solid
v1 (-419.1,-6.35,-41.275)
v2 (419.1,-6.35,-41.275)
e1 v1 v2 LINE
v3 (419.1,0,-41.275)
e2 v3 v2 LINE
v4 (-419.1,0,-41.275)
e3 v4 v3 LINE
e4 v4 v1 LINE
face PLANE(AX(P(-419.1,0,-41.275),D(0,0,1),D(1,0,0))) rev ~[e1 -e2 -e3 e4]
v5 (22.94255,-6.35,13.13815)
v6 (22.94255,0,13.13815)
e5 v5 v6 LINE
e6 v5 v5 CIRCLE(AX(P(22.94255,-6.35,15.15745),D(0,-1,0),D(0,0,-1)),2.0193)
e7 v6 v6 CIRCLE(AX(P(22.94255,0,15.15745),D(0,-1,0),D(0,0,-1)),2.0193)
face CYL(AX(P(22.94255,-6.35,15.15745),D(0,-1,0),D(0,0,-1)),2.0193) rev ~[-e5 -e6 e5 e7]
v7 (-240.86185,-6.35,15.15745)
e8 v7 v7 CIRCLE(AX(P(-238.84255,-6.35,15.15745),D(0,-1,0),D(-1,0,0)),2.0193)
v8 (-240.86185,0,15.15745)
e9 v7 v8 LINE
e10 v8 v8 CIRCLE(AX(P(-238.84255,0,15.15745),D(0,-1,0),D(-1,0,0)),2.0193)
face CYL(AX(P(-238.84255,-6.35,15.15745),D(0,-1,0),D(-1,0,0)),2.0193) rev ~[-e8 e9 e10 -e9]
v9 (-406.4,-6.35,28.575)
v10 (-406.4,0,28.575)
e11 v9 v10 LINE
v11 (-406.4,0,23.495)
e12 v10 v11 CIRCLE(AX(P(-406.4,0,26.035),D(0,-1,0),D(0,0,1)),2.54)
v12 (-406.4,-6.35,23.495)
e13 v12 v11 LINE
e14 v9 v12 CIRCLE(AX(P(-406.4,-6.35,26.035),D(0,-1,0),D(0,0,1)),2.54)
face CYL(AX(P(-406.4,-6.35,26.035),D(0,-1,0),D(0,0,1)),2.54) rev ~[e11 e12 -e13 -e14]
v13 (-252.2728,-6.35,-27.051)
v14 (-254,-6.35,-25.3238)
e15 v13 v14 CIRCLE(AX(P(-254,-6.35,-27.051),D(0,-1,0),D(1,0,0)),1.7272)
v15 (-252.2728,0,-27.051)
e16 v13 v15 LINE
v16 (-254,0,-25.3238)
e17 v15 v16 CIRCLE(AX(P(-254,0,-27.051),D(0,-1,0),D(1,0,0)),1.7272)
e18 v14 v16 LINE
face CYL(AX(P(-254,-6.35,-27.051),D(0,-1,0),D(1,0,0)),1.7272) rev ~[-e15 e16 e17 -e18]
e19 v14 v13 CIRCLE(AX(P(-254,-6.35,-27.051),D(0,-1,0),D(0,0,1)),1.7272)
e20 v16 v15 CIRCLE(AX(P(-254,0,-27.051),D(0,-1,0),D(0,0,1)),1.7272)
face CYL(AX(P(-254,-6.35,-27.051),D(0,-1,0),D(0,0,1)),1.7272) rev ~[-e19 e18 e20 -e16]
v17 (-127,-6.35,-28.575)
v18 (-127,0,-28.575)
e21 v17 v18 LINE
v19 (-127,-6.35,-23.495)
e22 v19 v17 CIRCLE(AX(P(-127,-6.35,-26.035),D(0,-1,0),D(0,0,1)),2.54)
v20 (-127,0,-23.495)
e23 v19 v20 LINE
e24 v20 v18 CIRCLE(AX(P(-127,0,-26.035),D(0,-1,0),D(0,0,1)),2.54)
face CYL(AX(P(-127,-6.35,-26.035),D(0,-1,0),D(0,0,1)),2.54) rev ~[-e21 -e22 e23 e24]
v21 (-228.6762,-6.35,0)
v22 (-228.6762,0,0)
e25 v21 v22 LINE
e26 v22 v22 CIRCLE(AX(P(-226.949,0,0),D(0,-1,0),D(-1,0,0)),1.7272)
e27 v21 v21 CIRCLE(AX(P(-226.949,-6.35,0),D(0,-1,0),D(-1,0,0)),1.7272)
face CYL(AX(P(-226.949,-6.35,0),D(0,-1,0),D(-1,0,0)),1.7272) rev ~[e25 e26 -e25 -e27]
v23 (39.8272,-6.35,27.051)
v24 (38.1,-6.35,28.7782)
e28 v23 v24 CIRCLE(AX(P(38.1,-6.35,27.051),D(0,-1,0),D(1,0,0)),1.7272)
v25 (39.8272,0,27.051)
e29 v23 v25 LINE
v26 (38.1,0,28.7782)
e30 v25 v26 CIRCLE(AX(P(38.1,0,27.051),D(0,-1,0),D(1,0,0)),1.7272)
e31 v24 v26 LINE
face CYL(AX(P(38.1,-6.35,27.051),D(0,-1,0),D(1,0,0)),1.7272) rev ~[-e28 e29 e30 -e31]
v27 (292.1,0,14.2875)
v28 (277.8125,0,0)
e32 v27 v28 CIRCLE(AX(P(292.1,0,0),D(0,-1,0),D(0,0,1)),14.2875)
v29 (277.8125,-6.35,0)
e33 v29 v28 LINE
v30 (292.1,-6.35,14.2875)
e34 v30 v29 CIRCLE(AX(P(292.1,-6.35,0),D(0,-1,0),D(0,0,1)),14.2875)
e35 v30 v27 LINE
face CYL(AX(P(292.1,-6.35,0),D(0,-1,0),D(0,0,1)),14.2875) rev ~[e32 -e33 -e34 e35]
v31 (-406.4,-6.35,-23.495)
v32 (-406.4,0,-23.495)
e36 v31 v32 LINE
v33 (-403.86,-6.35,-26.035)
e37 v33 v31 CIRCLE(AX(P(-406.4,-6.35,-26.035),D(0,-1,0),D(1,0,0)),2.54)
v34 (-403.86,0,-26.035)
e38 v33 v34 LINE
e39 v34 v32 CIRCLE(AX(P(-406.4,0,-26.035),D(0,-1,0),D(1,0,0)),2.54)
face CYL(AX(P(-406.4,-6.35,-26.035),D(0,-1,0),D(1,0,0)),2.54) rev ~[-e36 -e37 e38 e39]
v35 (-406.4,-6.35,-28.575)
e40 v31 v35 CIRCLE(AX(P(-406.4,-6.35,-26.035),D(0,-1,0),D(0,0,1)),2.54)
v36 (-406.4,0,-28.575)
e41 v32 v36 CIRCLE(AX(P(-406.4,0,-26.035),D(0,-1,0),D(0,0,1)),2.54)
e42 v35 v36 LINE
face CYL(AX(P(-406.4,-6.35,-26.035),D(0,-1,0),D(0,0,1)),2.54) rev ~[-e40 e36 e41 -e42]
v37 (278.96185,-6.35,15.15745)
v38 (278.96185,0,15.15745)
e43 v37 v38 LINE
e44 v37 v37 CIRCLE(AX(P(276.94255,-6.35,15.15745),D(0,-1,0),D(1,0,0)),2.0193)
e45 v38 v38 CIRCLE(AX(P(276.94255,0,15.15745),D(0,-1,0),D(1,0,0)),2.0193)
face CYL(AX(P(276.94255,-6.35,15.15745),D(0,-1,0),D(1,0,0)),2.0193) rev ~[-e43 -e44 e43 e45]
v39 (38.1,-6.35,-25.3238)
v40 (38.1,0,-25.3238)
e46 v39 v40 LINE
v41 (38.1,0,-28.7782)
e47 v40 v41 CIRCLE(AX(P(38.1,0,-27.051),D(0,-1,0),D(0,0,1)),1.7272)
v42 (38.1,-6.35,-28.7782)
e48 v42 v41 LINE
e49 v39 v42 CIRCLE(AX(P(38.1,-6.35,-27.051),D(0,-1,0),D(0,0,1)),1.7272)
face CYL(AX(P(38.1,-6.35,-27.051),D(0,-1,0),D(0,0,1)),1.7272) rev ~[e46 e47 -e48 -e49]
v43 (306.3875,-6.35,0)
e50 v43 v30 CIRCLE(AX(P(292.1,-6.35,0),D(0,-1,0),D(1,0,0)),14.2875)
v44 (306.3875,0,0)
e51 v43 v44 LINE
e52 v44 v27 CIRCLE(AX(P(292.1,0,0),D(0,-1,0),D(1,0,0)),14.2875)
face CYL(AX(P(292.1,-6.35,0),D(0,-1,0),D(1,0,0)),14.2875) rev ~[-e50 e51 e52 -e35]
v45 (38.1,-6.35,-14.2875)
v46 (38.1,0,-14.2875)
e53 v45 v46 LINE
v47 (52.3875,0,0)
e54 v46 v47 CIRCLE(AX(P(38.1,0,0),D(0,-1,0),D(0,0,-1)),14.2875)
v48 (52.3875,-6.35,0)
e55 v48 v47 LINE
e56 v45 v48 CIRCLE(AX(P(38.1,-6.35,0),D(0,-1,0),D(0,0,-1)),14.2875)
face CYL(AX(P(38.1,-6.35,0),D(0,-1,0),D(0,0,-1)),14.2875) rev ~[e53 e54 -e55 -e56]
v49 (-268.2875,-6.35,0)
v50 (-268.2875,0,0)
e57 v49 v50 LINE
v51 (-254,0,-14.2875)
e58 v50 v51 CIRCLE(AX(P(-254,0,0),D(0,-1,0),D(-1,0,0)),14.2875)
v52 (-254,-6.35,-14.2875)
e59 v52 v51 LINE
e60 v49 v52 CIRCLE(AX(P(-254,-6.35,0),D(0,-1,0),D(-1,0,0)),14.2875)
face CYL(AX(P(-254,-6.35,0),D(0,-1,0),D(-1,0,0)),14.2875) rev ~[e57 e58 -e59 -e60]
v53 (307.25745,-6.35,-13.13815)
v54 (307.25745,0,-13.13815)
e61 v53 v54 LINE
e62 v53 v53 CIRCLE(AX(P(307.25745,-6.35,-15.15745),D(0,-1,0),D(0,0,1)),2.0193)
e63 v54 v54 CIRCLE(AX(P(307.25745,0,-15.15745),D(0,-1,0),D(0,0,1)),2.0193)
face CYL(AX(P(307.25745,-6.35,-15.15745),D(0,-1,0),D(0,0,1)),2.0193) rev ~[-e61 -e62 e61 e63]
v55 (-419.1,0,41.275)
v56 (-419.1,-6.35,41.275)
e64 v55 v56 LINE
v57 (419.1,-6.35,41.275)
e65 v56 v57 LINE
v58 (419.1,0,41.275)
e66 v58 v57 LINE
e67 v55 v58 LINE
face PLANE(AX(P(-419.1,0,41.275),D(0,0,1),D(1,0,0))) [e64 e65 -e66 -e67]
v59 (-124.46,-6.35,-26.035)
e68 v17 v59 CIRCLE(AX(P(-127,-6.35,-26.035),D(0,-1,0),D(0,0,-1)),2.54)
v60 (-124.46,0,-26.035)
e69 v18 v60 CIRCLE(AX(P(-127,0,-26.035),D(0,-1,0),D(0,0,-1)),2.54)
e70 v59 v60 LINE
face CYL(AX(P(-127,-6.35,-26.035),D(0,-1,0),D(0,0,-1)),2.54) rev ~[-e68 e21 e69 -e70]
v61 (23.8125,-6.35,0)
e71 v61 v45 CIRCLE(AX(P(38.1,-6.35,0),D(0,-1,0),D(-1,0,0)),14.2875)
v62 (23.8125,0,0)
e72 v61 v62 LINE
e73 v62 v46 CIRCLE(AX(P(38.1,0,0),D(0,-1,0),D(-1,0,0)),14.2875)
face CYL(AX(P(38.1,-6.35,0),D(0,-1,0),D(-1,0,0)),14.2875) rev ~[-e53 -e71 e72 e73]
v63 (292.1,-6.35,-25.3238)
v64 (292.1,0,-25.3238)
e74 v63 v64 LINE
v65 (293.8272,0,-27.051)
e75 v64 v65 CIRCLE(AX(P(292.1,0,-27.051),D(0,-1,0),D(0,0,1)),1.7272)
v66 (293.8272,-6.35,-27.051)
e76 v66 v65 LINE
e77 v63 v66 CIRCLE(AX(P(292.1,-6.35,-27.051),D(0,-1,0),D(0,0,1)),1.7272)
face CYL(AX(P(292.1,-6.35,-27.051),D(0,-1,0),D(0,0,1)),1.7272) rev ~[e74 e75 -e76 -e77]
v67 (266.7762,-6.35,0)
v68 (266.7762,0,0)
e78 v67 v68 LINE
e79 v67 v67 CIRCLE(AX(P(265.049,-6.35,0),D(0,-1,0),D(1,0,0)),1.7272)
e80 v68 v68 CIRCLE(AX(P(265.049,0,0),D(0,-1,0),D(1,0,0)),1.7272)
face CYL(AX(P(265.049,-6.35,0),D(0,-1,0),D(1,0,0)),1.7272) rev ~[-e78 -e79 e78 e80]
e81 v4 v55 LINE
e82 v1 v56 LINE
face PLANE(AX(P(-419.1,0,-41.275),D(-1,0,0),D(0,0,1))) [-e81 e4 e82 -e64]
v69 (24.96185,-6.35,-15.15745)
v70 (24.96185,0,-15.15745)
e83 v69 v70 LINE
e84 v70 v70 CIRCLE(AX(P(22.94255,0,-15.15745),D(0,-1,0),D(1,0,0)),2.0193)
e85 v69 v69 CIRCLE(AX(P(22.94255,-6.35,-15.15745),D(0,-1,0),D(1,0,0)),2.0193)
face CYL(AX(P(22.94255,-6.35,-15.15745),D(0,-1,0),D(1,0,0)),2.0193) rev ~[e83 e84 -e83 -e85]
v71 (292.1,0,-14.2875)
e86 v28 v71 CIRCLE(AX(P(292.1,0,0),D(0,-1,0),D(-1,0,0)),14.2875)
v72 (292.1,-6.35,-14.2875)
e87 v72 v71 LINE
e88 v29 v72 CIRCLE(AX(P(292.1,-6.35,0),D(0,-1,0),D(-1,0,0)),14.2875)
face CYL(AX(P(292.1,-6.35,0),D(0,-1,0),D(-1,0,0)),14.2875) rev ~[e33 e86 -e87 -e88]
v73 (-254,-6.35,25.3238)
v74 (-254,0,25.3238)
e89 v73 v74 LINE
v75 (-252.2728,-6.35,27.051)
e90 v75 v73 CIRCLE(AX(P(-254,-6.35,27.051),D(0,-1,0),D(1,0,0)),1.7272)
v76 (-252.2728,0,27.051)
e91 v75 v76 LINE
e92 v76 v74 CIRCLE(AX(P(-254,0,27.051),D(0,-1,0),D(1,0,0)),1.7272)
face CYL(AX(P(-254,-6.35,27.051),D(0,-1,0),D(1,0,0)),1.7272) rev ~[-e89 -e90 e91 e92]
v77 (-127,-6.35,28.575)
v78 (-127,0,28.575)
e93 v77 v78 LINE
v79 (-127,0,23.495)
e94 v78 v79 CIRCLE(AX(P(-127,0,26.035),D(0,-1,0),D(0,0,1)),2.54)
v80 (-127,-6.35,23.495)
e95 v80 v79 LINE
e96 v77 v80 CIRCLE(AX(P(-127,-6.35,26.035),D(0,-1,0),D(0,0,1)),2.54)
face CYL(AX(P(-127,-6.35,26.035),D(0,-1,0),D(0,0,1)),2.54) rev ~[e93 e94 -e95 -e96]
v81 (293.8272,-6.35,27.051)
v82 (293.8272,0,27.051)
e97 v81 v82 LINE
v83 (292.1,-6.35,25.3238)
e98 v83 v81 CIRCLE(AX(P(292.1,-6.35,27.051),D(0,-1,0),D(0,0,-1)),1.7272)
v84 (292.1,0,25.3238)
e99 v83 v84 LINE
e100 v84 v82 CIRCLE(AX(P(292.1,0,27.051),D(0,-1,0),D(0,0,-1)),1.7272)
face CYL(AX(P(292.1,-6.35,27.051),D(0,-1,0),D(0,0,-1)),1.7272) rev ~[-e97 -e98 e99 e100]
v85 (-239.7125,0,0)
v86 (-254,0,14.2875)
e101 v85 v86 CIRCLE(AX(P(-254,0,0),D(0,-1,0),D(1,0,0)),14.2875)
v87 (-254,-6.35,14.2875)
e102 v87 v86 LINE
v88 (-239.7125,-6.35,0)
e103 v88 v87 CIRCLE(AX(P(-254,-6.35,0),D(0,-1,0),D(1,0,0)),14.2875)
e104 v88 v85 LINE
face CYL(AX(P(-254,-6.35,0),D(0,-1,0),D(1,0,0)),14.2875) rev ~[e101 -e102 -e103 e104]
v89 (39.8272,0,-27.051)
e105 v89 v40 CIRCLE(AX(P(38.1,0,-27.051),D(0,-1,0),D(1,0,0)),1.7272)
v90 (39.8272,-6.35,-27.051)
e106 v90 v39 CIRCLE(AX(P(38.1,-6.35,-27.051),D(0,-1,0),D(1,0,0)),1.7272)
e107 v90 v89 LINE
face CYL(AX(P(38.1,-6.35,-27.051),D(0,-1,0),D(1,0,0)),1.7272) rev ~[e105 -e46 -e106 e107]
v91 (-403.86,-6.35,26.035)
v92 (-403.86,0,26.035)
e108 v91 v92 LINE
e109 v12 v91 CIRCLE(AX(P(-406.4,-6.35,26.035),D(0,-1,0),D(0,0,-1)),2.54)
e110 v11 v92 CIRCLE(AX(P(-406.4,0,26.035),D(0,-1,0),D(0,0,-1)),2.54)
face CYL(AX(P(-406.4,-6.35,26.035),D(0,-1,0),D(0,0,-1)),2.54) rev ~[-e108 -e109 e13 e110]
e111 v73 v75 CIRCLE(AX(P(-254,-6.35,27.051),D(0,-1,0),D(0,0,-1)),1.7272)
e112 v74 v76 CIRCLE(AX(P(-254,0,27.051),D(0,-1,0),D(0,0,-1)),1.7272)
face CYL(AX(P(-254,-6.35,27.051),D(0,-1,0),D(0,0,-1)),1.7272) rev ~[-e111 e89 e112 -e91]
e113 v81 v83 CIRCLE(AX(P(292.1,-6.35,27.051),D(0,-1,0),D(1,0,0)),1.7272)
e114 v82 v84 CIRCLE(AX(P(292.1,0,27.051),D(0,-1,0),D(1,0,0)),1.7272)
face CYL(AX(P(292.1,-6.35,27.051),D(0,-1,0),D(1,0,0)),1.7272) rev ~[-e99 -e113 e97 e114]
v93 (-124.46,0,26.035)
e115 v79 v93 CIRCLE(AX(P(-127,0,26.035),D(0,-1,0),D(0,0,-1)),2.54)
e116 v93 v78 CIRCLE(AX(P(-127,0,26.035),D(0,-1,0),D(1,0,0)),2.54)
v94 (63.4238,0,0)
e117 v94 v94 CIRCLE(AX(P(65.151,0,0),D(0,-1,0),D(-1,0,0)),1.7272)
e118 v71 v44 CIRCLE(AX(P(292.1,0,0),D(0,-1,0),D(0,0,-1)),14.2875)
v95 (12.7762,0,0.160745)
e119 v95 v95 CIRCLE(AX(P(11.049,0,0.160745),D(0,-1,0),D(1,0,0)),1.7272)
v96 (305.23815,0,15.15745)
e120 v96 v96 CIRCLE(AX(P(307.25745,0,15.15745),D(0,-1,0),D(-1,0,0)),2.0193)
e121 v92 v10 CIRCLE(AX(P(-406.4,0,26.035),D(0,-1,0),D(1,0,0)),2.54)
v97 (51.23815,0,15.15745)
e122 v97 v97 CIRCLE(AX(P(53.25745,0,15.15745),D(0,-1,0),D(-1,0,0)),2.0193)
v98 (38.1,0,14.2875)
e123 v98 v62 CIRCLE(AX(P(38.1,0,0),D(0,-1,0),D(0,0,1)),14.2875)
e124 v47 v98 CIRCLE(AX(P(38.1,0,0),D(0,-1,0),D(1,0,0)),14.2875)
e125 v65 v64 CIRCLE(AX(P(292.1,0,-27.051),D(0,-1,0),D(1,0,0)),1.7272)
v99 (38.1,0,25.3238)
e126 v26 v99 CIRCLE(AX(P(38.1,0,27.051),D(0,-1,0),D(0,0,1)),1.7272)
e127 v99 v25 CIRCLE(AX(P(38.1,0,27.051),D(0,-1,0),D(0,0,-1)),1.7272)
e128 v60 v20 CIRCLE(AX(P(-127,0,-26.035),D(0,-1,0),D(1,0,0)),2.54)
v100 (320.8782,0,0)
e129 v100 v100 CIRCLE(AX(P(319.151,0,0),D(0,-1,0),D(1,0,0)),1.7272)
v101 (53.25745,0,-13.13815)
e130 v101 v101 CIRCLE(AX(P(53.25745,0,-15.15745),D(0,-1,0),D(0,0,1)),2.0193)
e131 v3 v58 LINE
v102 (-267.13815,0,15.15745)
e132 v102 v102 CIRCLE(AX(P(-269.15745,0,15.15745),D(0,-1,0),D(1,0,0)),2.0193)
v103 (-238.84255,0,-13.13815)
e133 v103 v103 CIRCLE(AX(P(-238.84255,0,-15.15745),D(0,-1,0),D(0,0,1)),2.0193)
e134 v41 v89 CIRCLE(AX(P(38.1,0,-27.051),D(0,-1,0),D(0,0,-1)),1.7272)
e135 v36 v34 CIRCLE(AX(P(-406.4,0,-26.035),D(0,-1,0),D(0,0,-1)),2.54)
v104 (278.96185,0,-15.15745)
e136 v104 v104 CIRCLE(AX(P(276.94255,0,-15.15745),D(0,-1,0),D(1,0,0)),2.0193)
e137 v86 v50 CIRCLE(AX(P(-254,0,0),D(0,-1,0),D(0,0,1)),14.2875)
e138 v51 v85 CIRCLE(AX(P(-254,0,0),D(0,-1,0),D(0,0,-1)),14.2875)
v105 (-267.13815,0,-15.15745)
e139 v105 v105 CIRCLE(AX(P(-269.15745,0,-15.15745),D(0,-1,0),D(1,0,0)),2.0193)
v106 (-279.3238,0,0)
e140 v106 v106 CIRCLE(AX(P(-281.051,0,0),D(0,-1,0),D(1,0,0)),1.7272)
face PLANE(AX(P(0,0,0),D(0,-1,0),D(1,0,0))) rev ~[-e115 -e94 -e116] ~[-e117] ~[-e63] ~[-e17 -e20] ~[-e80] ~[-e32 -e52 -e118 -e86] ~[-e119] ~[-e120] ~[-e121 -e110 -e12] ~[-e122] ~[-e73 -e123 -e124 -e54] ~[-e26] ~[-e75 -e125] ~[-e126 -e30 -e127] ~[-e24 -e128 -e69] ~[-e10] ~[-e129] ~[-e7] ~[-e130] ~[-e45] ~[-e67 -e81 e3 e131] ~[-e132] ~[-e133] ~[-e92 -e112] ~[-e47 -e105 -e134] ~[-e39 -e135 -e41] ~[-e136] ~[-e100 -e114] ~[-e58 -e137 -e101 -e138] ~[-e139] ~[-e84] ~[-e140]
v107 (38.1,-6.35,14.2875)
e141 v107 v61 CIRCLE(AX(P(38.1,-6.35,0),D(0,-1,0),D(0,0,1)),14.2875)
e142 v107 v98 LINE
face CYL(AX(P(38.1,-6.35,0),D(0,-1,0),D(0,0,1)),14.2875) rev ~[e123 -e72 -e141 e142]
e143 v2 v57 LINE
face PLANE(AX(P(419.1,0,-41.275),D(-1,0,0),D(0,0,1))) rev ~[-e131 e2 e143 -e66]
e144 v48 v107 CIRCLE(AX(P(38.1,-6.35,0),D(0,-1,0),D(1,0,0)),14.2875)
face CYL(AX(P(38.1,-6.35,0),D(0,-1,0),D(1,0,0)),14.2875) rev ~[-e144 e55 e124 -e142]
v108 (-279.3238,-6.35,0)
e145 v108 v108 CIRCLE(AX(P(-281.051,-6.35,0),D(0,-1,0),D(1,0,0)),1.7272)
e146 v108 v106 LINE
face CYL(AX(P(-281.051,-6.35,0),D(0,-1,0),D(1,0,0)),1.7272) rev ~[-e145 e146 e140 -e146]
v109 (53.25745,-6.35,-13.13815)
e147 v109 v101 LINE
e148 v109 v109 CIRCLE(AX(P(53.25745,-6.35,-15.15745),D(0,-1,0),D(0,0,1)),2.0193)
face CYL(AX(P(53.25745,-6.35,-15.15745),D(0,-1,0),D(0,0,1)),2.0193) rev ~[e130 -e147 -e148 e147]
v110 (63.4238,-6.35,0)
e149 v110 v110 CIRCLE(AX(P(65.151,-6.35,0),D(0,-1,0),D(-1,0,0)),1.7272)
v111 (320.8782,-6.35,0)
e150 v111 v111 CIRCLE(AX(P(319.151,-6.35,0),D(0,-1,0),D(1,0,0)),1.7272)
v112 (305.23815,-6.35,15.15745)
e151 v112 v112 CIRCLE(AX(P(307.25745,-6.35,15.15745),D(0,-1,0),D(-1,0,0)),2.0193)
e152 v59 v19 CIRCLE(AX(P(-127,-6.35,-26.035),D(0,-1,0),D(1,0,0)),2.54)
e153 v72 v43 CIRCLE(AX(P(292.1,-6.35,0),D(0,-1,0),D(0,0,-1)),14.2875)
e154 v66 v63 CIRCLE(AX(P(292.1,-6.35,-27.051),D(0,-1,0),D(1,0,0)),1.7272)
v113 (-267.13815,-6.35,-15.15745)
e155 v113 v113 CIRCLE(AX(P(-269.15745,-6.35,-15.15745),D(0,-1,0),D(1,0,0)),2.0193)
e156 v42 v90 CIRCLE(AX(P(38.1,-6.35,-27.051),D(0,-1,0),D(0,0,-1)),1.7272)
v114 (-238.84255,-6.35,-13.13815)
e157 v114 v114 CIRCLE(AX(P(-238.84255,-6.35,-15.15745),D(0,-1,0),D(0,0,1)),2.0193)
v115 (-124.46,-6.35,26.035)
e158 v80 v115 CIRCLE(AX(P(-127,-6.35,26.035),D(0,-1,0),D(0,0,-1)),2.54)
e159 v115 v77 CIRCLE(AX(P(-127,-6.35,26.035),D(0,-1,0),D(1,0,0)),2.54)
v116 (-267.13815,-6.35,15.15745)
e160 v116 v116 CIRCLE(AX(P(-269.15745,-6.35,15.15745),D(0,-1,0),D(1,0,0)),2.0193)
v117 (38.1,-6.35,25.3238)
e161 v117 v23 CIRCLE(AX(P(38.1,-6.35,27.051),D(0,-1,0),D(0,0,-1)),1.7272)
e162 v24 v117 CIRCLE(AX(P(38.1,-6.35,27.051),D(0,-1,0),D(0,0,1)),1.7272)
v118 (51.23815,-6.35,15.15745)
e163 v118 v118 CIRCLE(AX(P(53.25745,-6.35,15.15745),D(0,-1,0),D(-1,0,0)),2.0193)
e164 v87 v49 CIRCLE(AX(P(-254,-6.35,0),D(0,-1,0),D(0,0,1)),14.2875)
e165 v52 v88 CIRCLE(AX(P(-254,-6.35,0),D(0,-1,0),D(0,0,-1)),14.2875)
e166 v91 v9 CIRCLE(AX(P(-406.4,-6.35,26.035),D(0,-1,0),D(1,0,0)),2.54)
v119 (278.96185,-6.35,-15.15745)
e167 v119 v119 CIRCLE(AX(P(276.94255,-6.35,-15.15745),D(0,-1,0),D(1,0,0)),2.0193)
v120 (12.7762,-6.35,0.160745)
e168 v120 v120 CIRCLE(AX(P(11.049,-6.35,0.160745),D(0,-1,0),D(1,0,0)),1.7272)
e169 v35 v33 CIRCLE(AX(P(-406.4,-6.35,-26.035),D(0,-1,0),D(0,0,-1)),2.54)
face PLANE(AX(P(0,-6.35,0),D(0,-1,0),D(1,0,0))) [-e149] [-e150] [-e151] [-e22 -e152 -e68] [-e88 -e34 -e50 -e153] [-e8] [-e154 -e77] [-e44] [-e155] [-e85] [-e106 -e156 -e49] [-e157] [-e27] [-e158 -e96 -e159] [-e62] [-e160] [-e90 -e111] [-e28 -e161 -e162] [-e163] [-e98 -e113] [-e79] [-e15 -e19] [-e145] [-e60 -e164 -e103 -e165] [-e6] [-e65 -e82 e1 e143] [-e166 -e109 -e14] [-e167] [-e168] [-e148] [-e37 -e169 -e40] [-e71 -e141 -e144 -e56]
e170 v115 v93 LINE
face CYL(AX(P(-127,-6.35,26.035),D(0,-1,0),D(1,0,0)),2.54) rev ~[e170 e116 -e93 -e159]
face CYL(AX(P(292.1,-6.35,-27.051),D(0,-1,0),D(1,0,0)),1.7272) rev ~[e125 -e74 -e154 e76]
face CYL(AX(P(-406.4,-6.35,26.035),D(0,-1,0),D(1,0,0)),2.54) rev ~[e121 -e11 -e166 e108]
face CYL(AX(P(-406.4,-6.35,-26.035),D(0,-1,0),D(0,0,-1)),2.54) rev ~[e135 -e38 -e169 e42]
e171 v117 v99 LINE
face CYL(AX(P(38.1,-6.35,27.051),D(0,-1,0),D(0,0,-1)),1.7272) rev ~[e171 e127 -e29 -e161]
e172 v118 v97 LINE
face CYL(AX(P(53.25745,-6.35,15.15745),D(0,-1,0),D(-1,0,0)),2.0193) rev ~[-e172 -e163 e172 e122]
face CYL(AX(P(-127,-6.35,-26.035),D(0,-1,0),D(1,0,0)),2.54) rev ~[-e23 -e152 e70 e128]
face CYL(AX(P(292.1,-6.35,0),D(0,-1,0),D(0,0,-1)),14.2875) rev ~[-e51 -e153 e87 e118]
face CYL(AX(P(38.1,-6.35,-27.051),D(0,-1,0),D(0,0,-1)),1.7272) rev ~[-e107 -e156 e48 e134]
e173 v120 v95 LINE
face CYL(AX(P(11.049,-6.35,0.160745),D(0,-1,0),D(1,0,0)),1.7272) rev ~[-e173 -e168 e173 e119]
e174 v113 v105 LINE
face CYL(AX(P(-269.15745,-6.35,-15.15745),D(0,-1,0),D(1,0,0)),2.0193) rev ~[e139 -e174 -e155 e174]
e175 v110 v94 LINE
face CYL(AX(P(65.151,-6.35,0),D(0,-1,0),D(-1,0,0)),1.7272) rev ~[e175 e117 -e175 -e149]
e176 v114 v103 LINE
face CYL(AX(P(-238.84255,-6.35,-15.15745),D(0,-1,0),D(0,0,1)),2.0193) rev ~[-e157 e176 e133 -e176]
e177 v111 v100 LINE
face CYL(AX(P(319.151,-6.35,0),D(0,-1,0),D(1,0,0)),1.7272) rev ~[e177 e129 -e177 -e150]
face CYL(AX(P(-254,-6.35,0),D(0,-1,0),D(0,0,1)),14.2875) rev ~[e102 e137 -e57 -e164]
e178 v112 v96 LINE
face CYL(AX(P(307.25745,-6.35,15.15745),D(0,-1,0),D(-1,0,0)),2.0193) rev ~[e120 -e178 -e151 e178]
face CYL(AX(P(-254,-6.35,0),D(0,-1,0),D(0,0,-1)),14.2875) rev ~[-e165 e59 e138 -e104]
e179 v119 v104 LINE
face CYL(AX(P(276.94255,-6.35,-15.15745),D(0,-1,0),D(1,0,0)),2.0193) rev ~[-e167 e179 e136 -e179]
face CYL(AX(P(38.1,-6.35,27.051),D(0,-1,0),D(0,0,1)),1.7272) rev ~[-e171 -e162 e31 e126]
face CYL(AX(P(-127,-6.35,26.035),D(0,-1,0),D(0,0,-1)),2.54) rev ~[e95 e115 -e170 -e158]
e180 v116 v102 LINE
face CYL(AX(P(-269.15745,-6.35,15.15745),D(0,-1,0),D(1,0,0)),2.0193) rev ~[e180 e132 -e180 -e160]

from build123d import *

# Parameters (mm, degrees)
F0_W     = 838.2
F0_H     = 82.55
F1_DEPTH = 6.35
F2_R     = 1.7272
F3_DEPTH = 6.35
F5_DEPTH = 6.35


with BuildPart() as f1:
    # F0 (on Front) → F1 (new body)
    with BuildSketch(Plane.XZ):
        Rectangle(F0_W, F0_H)
    extrude(amount=F1_DEPTH)

    # F2 (on face) → F3 (cut, through all)
    with BuildSketch(Plane.XZ.offset(6.35)):
        with BuildLine():
            Line((-239.7125, 0), (-254, 0))
            Line((-254, 0), (-254, -14.2875))
            ThreePointArc((-254, -14.2875), (-243.8972118638, -10.1027881362), (-239.7125, 0))
        make_face()
        with BuildLine():
            Line((-254, 14.2875), (-254, 0))
            Line((-254, 0), (-239.7125, 0))
            ThreePointArc((-239.7125, 0), (-243.8972118638, 10.1027881362), (-254, 14.2875))
        make_face()
        with BuildLine():
            ThreePointArc((-254, 14.2875), (-264.1027881362, 10.1027881362), (-268.2875, 0))
            Line((-268.2875, 0), (-254, 0))
            Line((-254, 0), (-254, 14.2875))
        make_face()
        with BuildLine():
            Line((-254, 0), (-268.2875, 0))
            ThreePointArc((-268.2875, 0), (-264.1027881362, -10.1027881362), (-254, -14.2875))
            Line((-254, -14.2875), (-254, 0))
        make_face()
        with BuildLine():
            Line((-269.15745, -15.15745), (-269.15745, -13.13815))
            ThreePointArc((-269.15745, -13.13815), (-270.5853107233, -16.5853107232), (-267.13815, -15.15745))
            Line((-267.13815, -15.15745), (-269.15745, -15.15745))
        make_face()
        with BuildLine():
            ThreePointArc((-267.13815, -15.15745), (-267.7295892767, -13.7295892768), (-269.15745, -13.13815))
            Line((-269.15745, -13.13815), (-269.15745, -15.15745))
            Line((-269.15745, -15.15745), (-267.13815, -15.15745))
        make_face()
        with BuildLine():
            ThreePointArc((-252.2728, -27.051), (-252.7786851675, -25.8296851675), (-254, -25.3238))
            ThreePointArc((-254, -25.3238), (-255.2213148325, -28.2723148325), (-252.2728, -27.051))
        make_face()
        with BuildLine():
            Line((-238.84255, -15.15745), (-240.86185, -15.15745))
            ThreePointArc((-240.86185, -15.15745), (-238.84255, -17.17675), (-236.82325, -15.15745))
            ThreePointArc((-236.82325, -15.15745), (-237.4146892767, -13.7295892768), (-238.84255, -13.13815))
            Line((-238.84255, -13.13815), (-238.84255, -15.15745))
        make_face()
        with BuildLine():
            ThreePointArc((-238.84255, -13.13815), (-240.2704107232, -13.7295892767), (-240.86185, -15.15745))
            Line((-240.86185, -15.15745), (-238.84255, -15.15745))
            Line((-238.84255, -15.15745), (-238.84255, -13.13815))
        make_face()
        with BuildLine():
            ThreePointArc((-236.82325, 15.15745), (-238.84255, 17.17675), (-240.86185, 15.15745))
            Line((-240.86185, 15.15745), (-238.84255, 15.15745))
            Line((-238.84255, 15.15745), (-238.84255, 13.13815))
            ThreePointArc((-238.84255, 13.13815), (-237.4146892767, 13.7295892768), (-236.82325, 15.15745))
        make_face()
        with BuildLine():
            Line((-238.84255, 15.15745), (-240.86185, 15.15745))
            ThreePointArc((-240.86185, 15.15745), (-240.2704107232, 13.7295892767), (-238.84255, 13.13815))
            Line((-238.84255, 13.13815), (-238.84255, 15.15745))
        make_face()
        with BuildLine():
            ThreePointArc((-225.2218, 0), (-226.949, 1.7272), (-228.6762, 0))
            ThreePointArc((-228.6762, 0), (-226.949, -1.7272), (-225.2218, 0))
        make_face()
        with BuildLine():
            ThreePointArc((-252.2728, 27.051), (-255.2213148325, 28.2723148325), (-254, 25.3238))
            ThreePointArc((-254, 25.3238), (-252.7786851675, 25.8296851675), (-252.2728, 27.051))
        make_face()
        with BuildLine():
            Line((-269.15745, 15.15745), (-269.15745, 13.13815))
            ThreePointArc((-269.15745, 13.13815), (-267.7295892767, 13.7295892768), (-267.13815, 15.15745))
            Line((-267.13815, 15.15745), (-269.15745, 15.15745))
        make_face()
        with BuildLine():
            ThreePointArc((-267.13815, 15.15745), (-270.5853107233, 16.5853107232), (-269.15745, 13.13815))
            Line((-269.15745, 13.13815), (-269.15745, 15.15745))
            Line((-269.15745, 15.15745), (-267.13815, 15.15745))
        make_face()
        with BuildLine():
            ThreePointArc((-282.7782, 0), (-281.051, -1.7272), (-279.3238, 0))
            Line((-279.3238, 0), (-282.7782, 0))
        make_face()
        with BuildLine():
            Line((-282.7782, 0), (-279.3238, 0))
            ThreePointArc((-279.3238, 0), (-281.051, 1.7272), (-282.7782, 0))
        make_face()
        with BuildLine():
            Line((38.1, 0), (38.1, -14.2875))
            ThreePointArc((38.1, -14.2875), (48.2027881362, -10.1027881362), (52.3875, 0))
            Line((52.3875, 0), (38.1, 0))
        make_face()
        with BuildLine():
            ThreePointArc((23.8125, 0), (27.9972118638, -10.1027881362), (38.1, -14.2875))
            Line((38.1, -14.2875), (38.1, 0))
            Line((38.1, 0), (23.8125, 0))
        make_face()
        with BuildLine():
            Line((38.1, 0), (38.1, 14.2875))
            ThreePointArc((38.1, 14.2875), (27.9972118638, 10.1027881362), (23.8125, 0))
            Line((23.8125, 0), (38.1, 0))
        make_face()
        with BuildLine():
            ThreePointArc((52.3875, 0), (48.2027881362, 10.1027881362), (38.1, 14.2875))
            Line((38.1, 14.2875), (38.1, 0))
            Line((38.1, 0), (52.3875, 0))
        make_face()
        with BuildLine():
            ThreePointArc((55.27675, 15.15745), (53.25745, 17.17675), (51.23815, 15.15745))
            Line((51.23815, 15.15745), (53.25745, 15.15745))
            Line((53.25745, 15.15745), (53.25745, 13.13815))
            ThreePointArc((53.25745, 13.13815), (54.6853107233, 13.7295892768), (55.27675, 15.15745))
        make_face()
        with BuildLine():
            Line((53.25745, 15.15745), (51.23815, 15.15745))
            ThreePointArc((51.23815, 15.15745), (51.8295892768, 13.7295892767), (53.25745, 13.13815))
            Line((53.25745, 13.13815), (53.25745, 15.15745))
        make_face()
        with BuildLine():
            Line((38.1, 27.051), (38.1, 28.7782))
            ThreePointArc((38.1, 28.7782), (36.3728, 27.051), (38.1, 25.3238))
            Line((38.1, 25.3238), (38.1, 27.051))
        make_face()
        with BuildLine():
            ThreePointArc((39.8272, 27.051), (39.3213148325, 28.2723148325), (38.1, 28.7782))
            Line((38.1, 28.7782), (38.1, 27.051))
            Line((38.1, 27.051), (38.1, 25.3238))
            ThreePointArc((38.1, 25.3238), (39.3213148325, 25.8296851675), (39.8272, 27.051))
        make_face()
        with BuildLine():
            Line((22.94255, 15.15745), (24.96185, 15.15745))
            ThreePointArc((24.96185, 15.15745), (21.5146892767, 16.5853107232), (22.94255, 13.13815))
            Line((22.94255, 13.13815), (22.94255, 15.15745))
        make_face()
        with BuildLine():
            ThreePointArc((22.94255, 13.13815), (24.3704107233, 13.7295892768), (24.96185, 15.15745))
            Line((24.96185, 15.15745), (22.94255, 15.15745))
            Line((22.94255, 15.15745), (22.94255, 13.13815))
        make_face()
        with BuildLine():
            ThreePointArc((22.94255, -13.13815), (21.5146892767, -16.5853107232), (24.96185, -15.15745))
            Line((24.96185, -15.15745), (22.94255, -15.15745))
            Line((22.94255, -15.15745), (22.94255, -13.13815))
        make_face()
        with BuildLine():
            Line((22.94255, -15.15745), (24.96185, -15.15745))
            ThreePointArc((24.96185, -15.15745), (24.3704107233, -13.7295892768), (22.94255, -13.13815))
            Line((22.94255, -13.13815), (22.94255, -15.15745))
        make_face()
        with BuildLine():
            ThreePointArc((38.1, -25.3238), (36.3728, -27.051), (38.1, -28.7782))
            Line((38.1, -28.7782), (38.1, -27.051))
            Line((38.1, -27.051), (38.1, -25.3238))
        make_face()
        with BuildLine():
            Line((38.1, -27.051), (38.1, -28.7782))
            ThreePointArc((38.1, -28.7782), (39.3213148325, -28.2723148325), (39.8272, -27.051))
            ThreePointArc((39.8272, -27.051), (39.3213148325, -25.8296851675), (38.1, -25.3238))
            Line((38.1, -25.3238), (38.1, -27.051))
        make_face()
        with BuildLine():
            Line((53.25745, -15.15745), (51.23815, -15.15745))
            ThreePointArc((51.23815, -15.15745), (53.25745, -17.17675), (55.27675, -15.15745))
            ThreePointArc((55.27675, -15.15745), (54.6853107233, -13.7295892768), (53.25745, -13.13815))
            Line((53.25745, -13.13815), (53.25745, -15.15745))
        make_face()
        with BuildLine():
            ThreePointArc((53.25745, -13.13815), (51.8295892768, -13.7295892767), (51.23815, -15.15745))
            Line((51.23815, -15.15745), (53.25745, -15.15745))
            Line((53.25745, -15.15745), (53.25745, -13.13815))
        make_face()
        with Locations((11.049, 0.1607450395)):
            Circle(F2_R)
        with BuildLine():
            ThreePointArc((66.8782, 0), (65.151, 1.7272), (63.4238, 0))
            ThreePointArc((63.4238, 0), (65.151, -1.7272), (66.8782, 0))
        make_face()
        with BuildLine():
            ThreePointArc((292.1, -14.2875), (302.2027881362, -10.1027881362), (306.3875, 0))
            Line((306.3875, 0), (292.1, 0))
            Line((292.1, 0), (292.1, -14.2875))
        make_face()
        with BuildLine():
            Line((292.1, 0), (306.3875, 0))
            ThreePointArc((306.3875, 0), (302.2027881362, 10.1027881362), (292.1, 14.2875))
            Line((292.1, 14.2875), (292.1, 0))
        make_face()
        with BuildLine():
            Line((277.8125, 0), (292.1, 0))
            Line((292.1, 0), (292.1, 14.2875))
            ThreePointArc((292.1, 14.2875), (281.9972118638, 10.1027881362), (277.8125, 0))
        make_face()
        with BuildLine():
            Line((292.1, -14.2875), (292.1, 0))
            Line((292.1, 0), (277.8125, 0))
            ThreePointArc((277.8125, 0), (281.9972118638, -10.1027881362), (292.1, -14.2875))
        make_face()
        with BuildLine():
            ThreePointArc((309.27675, -15.15745), (308.6853107233, -13.7295892768), (307.25745, -13.13815))
            Line((307.25745, -13.13815), (307.25745, -15.15745))
            Line((307.25745, -15.15745), (305.23815, -15.15745))
            ThreePointArc((305.23815, -15.15745), (307.25745, -17.17675), (309.27675, -15.15745))
        make_face()
        with BuildLine():
            Line((307.25745, -15.15745), (307.25745, -13.13815))
            ThreePointArc((307.25745, -13.13815), (305.8295892768, -13.7295892767), (305.23815, -15.15745))
            Line((305.23815, -15.15745), (307.25745, -15.15745))
        make_face()
        with BuildLine():
            ThreePointArc((293.8272, -27.051), (293.3213148325, -25.8296851675), (292.1, -25.3238))
            ThreePointArc((292.1, -25.3238), (290.8786851675, -28.2723148325), (293.8272, -27.051))
        make_face()
        with BuildLine():
            ThreePointArc((317.4238, 0), (319.151, -1.7272), (320.8782, 0))
            Line((320.8782, 0), (317.4238, 0))
        make_face()
        with BuildLine():
            Line((317.4238, 0), (320.8782, 0))
            ThreePointArc((320.8782, 0), (319.151, 1.7272), (317.4238, 0))
        make_face()
        with BuildLine():
            Line((307.25745, 15.15745), (307.25745, 13.13815))
            ThreePointArc((307.25745, 13.13815), (308.6853107233, 13.7295892768), (309.27675, 15.15745))
            ThreePointArc((309.27675, 15.15745), (307.25745, 17.17675), (305.23815, 15.15745))
            Line((305.23815, 15.15745), (307.25745, 15.15745))
        make_face()
        with BuildLine():
            ThreePointArc((305.23815, 15.15745), (305.8295892768, 13.7295892767), (307.25745, 13.13815))
            Line((307.25745, 13.13815), (307.25745, 15.15745))
            Line((307.25745, 15.15745), (305.23815, 15.15745))
        make_face()
        with BuildLine():
            ThreePointArc((293.8272, 27.051), (290.8786851675, 28.2723148325), (292.1, 25.3238))
            ThreePointArc((292.1, 25.3238), (293.3213148325, 25.8296851675), (293.8272, 27.051))
        make_face()
        with BuildLine():
            ThreePointArc((276.94255, 13.13815), (278.3704107233, 13.7295892768), (278.96185, 15.15745))
            Line((278.96185, 15.15745), (276.94255, 15.15745))
            Line((276.94255, 15.15745), (276.94255, 13.13815))
        make_face()
        with BuildLine():
            Line((276.94255, 15.15745), (278.96185, 15.15745))
            ThreePointArc((278.96185, 15.15745), (275.5146892767, 16.5853107232), (276.94255, 13.13815))
            Line((276.94255, 13.13815), (276.94255, 15.15745))
        make_face()
        with BuildLine():
            ThreePointArc((276.94255, -13.13815), (275.5146892767, -16.5853107232), (278.96185, -15.15745))
            Line((278.96185, -15.15745), (276.94255, -15.15745))
            Line((276.94255, -15.15745), (276.94255, -13.13815))
        make_face()
        with BuildLine():
            Line((276.94255, -15.15745), (278.96185, -15.15745))
            ThreePointArc((278.96185, -15.15745), (278.3704107233, -13.7295892768), (276.94255, -13.13815))
            Line((276.94255, -13.13815), (276.94255, -15.15745))
        make_face()
        with Locations((265.049, 0)):
            Circle(F2_R)
    extrude(amount=-F3_DEPTH, mode=Mode.SUBTRACT)

    # F4 (on face) → F5 (cut, through all)
    with BuildSketch(Plane.XZ.offset(6.35)):
        with BuildLine():
            ThreePointArc((-403.86, 26.035), (-404.6039487758, 27.8310512242), (-406.4, 28.575))
            Line((-406.4, 28.575), (-406.4, 23.495))
            ThreePointArc((-406.4, 23.495), (-404.6039487758, 24.2389487758), (-403.86, 26.035))
        make_face()
        with BuildLine():
            ThreePointArc((-403.86, -26.035), (-404.6039487758, -24.2389487758), (-406.4, -23.495))
            Line((-406.4, -23.495), (-406.4, -28.575))
            ThreePointArc((-406.4, -28.575), (-404.6039487758, -27.8310512242), (-403.86, -26.035))
        make_face()
        with BuildLine():
            Line((-406.4, -28.575), (-406.4, -23.495))
            ThreePointArc((-406.4, -23.495), (-408.94, -26.035), (-406.4, -28.575))
        make_face()
        with BuildLine():
            Line((-406.4, 23.495), (-406.4, 28.575))
            ThreePointArc((-406.4, 28.575), (-408.94, 26.035), (-406.4, 23.495))
        make_face()
        with BuildLine():
            ThreePointArc((-124.46, 26.035), (-125.2039487758, 27.8310512242), (-127, 28.575))
            Line((-127, 28.575), (-127, 23.495))
            ThreePointArc((-127, 23.495), (-125.2039487758, 24.2389487758), (-124.46, 26.035))
        make_face()
        with BuildLine():
            ThreePointArc((-124.46, -26.035), (-125.2039487758, -24.2389487758), (-127, -23.495))
            Line((-127, -23.495), (-127, -28.575))
            ThreePointArc((-127, -28.575), (-125.2039487758, -27.8310512242), (-124.46, -26.035))
        make_face()
        with BuildLine():
            Line((-127, -28.575), (-127, -23.495))
            ThreePointArc((-127, -23.495), (-129.54, -26.035), (-127, -28.575))
        make_face()
        with BuildLine():
            Line((-127, 23.495), (-127, 28.575))
            ThreePointArc((-127, 28.575), (-129.54, 26.035), (-127, 23.495))
        make_face()
    extrude(amount=-F5_DEPTH, mode=Mode.SUBTRACT)


solid = f1.part
